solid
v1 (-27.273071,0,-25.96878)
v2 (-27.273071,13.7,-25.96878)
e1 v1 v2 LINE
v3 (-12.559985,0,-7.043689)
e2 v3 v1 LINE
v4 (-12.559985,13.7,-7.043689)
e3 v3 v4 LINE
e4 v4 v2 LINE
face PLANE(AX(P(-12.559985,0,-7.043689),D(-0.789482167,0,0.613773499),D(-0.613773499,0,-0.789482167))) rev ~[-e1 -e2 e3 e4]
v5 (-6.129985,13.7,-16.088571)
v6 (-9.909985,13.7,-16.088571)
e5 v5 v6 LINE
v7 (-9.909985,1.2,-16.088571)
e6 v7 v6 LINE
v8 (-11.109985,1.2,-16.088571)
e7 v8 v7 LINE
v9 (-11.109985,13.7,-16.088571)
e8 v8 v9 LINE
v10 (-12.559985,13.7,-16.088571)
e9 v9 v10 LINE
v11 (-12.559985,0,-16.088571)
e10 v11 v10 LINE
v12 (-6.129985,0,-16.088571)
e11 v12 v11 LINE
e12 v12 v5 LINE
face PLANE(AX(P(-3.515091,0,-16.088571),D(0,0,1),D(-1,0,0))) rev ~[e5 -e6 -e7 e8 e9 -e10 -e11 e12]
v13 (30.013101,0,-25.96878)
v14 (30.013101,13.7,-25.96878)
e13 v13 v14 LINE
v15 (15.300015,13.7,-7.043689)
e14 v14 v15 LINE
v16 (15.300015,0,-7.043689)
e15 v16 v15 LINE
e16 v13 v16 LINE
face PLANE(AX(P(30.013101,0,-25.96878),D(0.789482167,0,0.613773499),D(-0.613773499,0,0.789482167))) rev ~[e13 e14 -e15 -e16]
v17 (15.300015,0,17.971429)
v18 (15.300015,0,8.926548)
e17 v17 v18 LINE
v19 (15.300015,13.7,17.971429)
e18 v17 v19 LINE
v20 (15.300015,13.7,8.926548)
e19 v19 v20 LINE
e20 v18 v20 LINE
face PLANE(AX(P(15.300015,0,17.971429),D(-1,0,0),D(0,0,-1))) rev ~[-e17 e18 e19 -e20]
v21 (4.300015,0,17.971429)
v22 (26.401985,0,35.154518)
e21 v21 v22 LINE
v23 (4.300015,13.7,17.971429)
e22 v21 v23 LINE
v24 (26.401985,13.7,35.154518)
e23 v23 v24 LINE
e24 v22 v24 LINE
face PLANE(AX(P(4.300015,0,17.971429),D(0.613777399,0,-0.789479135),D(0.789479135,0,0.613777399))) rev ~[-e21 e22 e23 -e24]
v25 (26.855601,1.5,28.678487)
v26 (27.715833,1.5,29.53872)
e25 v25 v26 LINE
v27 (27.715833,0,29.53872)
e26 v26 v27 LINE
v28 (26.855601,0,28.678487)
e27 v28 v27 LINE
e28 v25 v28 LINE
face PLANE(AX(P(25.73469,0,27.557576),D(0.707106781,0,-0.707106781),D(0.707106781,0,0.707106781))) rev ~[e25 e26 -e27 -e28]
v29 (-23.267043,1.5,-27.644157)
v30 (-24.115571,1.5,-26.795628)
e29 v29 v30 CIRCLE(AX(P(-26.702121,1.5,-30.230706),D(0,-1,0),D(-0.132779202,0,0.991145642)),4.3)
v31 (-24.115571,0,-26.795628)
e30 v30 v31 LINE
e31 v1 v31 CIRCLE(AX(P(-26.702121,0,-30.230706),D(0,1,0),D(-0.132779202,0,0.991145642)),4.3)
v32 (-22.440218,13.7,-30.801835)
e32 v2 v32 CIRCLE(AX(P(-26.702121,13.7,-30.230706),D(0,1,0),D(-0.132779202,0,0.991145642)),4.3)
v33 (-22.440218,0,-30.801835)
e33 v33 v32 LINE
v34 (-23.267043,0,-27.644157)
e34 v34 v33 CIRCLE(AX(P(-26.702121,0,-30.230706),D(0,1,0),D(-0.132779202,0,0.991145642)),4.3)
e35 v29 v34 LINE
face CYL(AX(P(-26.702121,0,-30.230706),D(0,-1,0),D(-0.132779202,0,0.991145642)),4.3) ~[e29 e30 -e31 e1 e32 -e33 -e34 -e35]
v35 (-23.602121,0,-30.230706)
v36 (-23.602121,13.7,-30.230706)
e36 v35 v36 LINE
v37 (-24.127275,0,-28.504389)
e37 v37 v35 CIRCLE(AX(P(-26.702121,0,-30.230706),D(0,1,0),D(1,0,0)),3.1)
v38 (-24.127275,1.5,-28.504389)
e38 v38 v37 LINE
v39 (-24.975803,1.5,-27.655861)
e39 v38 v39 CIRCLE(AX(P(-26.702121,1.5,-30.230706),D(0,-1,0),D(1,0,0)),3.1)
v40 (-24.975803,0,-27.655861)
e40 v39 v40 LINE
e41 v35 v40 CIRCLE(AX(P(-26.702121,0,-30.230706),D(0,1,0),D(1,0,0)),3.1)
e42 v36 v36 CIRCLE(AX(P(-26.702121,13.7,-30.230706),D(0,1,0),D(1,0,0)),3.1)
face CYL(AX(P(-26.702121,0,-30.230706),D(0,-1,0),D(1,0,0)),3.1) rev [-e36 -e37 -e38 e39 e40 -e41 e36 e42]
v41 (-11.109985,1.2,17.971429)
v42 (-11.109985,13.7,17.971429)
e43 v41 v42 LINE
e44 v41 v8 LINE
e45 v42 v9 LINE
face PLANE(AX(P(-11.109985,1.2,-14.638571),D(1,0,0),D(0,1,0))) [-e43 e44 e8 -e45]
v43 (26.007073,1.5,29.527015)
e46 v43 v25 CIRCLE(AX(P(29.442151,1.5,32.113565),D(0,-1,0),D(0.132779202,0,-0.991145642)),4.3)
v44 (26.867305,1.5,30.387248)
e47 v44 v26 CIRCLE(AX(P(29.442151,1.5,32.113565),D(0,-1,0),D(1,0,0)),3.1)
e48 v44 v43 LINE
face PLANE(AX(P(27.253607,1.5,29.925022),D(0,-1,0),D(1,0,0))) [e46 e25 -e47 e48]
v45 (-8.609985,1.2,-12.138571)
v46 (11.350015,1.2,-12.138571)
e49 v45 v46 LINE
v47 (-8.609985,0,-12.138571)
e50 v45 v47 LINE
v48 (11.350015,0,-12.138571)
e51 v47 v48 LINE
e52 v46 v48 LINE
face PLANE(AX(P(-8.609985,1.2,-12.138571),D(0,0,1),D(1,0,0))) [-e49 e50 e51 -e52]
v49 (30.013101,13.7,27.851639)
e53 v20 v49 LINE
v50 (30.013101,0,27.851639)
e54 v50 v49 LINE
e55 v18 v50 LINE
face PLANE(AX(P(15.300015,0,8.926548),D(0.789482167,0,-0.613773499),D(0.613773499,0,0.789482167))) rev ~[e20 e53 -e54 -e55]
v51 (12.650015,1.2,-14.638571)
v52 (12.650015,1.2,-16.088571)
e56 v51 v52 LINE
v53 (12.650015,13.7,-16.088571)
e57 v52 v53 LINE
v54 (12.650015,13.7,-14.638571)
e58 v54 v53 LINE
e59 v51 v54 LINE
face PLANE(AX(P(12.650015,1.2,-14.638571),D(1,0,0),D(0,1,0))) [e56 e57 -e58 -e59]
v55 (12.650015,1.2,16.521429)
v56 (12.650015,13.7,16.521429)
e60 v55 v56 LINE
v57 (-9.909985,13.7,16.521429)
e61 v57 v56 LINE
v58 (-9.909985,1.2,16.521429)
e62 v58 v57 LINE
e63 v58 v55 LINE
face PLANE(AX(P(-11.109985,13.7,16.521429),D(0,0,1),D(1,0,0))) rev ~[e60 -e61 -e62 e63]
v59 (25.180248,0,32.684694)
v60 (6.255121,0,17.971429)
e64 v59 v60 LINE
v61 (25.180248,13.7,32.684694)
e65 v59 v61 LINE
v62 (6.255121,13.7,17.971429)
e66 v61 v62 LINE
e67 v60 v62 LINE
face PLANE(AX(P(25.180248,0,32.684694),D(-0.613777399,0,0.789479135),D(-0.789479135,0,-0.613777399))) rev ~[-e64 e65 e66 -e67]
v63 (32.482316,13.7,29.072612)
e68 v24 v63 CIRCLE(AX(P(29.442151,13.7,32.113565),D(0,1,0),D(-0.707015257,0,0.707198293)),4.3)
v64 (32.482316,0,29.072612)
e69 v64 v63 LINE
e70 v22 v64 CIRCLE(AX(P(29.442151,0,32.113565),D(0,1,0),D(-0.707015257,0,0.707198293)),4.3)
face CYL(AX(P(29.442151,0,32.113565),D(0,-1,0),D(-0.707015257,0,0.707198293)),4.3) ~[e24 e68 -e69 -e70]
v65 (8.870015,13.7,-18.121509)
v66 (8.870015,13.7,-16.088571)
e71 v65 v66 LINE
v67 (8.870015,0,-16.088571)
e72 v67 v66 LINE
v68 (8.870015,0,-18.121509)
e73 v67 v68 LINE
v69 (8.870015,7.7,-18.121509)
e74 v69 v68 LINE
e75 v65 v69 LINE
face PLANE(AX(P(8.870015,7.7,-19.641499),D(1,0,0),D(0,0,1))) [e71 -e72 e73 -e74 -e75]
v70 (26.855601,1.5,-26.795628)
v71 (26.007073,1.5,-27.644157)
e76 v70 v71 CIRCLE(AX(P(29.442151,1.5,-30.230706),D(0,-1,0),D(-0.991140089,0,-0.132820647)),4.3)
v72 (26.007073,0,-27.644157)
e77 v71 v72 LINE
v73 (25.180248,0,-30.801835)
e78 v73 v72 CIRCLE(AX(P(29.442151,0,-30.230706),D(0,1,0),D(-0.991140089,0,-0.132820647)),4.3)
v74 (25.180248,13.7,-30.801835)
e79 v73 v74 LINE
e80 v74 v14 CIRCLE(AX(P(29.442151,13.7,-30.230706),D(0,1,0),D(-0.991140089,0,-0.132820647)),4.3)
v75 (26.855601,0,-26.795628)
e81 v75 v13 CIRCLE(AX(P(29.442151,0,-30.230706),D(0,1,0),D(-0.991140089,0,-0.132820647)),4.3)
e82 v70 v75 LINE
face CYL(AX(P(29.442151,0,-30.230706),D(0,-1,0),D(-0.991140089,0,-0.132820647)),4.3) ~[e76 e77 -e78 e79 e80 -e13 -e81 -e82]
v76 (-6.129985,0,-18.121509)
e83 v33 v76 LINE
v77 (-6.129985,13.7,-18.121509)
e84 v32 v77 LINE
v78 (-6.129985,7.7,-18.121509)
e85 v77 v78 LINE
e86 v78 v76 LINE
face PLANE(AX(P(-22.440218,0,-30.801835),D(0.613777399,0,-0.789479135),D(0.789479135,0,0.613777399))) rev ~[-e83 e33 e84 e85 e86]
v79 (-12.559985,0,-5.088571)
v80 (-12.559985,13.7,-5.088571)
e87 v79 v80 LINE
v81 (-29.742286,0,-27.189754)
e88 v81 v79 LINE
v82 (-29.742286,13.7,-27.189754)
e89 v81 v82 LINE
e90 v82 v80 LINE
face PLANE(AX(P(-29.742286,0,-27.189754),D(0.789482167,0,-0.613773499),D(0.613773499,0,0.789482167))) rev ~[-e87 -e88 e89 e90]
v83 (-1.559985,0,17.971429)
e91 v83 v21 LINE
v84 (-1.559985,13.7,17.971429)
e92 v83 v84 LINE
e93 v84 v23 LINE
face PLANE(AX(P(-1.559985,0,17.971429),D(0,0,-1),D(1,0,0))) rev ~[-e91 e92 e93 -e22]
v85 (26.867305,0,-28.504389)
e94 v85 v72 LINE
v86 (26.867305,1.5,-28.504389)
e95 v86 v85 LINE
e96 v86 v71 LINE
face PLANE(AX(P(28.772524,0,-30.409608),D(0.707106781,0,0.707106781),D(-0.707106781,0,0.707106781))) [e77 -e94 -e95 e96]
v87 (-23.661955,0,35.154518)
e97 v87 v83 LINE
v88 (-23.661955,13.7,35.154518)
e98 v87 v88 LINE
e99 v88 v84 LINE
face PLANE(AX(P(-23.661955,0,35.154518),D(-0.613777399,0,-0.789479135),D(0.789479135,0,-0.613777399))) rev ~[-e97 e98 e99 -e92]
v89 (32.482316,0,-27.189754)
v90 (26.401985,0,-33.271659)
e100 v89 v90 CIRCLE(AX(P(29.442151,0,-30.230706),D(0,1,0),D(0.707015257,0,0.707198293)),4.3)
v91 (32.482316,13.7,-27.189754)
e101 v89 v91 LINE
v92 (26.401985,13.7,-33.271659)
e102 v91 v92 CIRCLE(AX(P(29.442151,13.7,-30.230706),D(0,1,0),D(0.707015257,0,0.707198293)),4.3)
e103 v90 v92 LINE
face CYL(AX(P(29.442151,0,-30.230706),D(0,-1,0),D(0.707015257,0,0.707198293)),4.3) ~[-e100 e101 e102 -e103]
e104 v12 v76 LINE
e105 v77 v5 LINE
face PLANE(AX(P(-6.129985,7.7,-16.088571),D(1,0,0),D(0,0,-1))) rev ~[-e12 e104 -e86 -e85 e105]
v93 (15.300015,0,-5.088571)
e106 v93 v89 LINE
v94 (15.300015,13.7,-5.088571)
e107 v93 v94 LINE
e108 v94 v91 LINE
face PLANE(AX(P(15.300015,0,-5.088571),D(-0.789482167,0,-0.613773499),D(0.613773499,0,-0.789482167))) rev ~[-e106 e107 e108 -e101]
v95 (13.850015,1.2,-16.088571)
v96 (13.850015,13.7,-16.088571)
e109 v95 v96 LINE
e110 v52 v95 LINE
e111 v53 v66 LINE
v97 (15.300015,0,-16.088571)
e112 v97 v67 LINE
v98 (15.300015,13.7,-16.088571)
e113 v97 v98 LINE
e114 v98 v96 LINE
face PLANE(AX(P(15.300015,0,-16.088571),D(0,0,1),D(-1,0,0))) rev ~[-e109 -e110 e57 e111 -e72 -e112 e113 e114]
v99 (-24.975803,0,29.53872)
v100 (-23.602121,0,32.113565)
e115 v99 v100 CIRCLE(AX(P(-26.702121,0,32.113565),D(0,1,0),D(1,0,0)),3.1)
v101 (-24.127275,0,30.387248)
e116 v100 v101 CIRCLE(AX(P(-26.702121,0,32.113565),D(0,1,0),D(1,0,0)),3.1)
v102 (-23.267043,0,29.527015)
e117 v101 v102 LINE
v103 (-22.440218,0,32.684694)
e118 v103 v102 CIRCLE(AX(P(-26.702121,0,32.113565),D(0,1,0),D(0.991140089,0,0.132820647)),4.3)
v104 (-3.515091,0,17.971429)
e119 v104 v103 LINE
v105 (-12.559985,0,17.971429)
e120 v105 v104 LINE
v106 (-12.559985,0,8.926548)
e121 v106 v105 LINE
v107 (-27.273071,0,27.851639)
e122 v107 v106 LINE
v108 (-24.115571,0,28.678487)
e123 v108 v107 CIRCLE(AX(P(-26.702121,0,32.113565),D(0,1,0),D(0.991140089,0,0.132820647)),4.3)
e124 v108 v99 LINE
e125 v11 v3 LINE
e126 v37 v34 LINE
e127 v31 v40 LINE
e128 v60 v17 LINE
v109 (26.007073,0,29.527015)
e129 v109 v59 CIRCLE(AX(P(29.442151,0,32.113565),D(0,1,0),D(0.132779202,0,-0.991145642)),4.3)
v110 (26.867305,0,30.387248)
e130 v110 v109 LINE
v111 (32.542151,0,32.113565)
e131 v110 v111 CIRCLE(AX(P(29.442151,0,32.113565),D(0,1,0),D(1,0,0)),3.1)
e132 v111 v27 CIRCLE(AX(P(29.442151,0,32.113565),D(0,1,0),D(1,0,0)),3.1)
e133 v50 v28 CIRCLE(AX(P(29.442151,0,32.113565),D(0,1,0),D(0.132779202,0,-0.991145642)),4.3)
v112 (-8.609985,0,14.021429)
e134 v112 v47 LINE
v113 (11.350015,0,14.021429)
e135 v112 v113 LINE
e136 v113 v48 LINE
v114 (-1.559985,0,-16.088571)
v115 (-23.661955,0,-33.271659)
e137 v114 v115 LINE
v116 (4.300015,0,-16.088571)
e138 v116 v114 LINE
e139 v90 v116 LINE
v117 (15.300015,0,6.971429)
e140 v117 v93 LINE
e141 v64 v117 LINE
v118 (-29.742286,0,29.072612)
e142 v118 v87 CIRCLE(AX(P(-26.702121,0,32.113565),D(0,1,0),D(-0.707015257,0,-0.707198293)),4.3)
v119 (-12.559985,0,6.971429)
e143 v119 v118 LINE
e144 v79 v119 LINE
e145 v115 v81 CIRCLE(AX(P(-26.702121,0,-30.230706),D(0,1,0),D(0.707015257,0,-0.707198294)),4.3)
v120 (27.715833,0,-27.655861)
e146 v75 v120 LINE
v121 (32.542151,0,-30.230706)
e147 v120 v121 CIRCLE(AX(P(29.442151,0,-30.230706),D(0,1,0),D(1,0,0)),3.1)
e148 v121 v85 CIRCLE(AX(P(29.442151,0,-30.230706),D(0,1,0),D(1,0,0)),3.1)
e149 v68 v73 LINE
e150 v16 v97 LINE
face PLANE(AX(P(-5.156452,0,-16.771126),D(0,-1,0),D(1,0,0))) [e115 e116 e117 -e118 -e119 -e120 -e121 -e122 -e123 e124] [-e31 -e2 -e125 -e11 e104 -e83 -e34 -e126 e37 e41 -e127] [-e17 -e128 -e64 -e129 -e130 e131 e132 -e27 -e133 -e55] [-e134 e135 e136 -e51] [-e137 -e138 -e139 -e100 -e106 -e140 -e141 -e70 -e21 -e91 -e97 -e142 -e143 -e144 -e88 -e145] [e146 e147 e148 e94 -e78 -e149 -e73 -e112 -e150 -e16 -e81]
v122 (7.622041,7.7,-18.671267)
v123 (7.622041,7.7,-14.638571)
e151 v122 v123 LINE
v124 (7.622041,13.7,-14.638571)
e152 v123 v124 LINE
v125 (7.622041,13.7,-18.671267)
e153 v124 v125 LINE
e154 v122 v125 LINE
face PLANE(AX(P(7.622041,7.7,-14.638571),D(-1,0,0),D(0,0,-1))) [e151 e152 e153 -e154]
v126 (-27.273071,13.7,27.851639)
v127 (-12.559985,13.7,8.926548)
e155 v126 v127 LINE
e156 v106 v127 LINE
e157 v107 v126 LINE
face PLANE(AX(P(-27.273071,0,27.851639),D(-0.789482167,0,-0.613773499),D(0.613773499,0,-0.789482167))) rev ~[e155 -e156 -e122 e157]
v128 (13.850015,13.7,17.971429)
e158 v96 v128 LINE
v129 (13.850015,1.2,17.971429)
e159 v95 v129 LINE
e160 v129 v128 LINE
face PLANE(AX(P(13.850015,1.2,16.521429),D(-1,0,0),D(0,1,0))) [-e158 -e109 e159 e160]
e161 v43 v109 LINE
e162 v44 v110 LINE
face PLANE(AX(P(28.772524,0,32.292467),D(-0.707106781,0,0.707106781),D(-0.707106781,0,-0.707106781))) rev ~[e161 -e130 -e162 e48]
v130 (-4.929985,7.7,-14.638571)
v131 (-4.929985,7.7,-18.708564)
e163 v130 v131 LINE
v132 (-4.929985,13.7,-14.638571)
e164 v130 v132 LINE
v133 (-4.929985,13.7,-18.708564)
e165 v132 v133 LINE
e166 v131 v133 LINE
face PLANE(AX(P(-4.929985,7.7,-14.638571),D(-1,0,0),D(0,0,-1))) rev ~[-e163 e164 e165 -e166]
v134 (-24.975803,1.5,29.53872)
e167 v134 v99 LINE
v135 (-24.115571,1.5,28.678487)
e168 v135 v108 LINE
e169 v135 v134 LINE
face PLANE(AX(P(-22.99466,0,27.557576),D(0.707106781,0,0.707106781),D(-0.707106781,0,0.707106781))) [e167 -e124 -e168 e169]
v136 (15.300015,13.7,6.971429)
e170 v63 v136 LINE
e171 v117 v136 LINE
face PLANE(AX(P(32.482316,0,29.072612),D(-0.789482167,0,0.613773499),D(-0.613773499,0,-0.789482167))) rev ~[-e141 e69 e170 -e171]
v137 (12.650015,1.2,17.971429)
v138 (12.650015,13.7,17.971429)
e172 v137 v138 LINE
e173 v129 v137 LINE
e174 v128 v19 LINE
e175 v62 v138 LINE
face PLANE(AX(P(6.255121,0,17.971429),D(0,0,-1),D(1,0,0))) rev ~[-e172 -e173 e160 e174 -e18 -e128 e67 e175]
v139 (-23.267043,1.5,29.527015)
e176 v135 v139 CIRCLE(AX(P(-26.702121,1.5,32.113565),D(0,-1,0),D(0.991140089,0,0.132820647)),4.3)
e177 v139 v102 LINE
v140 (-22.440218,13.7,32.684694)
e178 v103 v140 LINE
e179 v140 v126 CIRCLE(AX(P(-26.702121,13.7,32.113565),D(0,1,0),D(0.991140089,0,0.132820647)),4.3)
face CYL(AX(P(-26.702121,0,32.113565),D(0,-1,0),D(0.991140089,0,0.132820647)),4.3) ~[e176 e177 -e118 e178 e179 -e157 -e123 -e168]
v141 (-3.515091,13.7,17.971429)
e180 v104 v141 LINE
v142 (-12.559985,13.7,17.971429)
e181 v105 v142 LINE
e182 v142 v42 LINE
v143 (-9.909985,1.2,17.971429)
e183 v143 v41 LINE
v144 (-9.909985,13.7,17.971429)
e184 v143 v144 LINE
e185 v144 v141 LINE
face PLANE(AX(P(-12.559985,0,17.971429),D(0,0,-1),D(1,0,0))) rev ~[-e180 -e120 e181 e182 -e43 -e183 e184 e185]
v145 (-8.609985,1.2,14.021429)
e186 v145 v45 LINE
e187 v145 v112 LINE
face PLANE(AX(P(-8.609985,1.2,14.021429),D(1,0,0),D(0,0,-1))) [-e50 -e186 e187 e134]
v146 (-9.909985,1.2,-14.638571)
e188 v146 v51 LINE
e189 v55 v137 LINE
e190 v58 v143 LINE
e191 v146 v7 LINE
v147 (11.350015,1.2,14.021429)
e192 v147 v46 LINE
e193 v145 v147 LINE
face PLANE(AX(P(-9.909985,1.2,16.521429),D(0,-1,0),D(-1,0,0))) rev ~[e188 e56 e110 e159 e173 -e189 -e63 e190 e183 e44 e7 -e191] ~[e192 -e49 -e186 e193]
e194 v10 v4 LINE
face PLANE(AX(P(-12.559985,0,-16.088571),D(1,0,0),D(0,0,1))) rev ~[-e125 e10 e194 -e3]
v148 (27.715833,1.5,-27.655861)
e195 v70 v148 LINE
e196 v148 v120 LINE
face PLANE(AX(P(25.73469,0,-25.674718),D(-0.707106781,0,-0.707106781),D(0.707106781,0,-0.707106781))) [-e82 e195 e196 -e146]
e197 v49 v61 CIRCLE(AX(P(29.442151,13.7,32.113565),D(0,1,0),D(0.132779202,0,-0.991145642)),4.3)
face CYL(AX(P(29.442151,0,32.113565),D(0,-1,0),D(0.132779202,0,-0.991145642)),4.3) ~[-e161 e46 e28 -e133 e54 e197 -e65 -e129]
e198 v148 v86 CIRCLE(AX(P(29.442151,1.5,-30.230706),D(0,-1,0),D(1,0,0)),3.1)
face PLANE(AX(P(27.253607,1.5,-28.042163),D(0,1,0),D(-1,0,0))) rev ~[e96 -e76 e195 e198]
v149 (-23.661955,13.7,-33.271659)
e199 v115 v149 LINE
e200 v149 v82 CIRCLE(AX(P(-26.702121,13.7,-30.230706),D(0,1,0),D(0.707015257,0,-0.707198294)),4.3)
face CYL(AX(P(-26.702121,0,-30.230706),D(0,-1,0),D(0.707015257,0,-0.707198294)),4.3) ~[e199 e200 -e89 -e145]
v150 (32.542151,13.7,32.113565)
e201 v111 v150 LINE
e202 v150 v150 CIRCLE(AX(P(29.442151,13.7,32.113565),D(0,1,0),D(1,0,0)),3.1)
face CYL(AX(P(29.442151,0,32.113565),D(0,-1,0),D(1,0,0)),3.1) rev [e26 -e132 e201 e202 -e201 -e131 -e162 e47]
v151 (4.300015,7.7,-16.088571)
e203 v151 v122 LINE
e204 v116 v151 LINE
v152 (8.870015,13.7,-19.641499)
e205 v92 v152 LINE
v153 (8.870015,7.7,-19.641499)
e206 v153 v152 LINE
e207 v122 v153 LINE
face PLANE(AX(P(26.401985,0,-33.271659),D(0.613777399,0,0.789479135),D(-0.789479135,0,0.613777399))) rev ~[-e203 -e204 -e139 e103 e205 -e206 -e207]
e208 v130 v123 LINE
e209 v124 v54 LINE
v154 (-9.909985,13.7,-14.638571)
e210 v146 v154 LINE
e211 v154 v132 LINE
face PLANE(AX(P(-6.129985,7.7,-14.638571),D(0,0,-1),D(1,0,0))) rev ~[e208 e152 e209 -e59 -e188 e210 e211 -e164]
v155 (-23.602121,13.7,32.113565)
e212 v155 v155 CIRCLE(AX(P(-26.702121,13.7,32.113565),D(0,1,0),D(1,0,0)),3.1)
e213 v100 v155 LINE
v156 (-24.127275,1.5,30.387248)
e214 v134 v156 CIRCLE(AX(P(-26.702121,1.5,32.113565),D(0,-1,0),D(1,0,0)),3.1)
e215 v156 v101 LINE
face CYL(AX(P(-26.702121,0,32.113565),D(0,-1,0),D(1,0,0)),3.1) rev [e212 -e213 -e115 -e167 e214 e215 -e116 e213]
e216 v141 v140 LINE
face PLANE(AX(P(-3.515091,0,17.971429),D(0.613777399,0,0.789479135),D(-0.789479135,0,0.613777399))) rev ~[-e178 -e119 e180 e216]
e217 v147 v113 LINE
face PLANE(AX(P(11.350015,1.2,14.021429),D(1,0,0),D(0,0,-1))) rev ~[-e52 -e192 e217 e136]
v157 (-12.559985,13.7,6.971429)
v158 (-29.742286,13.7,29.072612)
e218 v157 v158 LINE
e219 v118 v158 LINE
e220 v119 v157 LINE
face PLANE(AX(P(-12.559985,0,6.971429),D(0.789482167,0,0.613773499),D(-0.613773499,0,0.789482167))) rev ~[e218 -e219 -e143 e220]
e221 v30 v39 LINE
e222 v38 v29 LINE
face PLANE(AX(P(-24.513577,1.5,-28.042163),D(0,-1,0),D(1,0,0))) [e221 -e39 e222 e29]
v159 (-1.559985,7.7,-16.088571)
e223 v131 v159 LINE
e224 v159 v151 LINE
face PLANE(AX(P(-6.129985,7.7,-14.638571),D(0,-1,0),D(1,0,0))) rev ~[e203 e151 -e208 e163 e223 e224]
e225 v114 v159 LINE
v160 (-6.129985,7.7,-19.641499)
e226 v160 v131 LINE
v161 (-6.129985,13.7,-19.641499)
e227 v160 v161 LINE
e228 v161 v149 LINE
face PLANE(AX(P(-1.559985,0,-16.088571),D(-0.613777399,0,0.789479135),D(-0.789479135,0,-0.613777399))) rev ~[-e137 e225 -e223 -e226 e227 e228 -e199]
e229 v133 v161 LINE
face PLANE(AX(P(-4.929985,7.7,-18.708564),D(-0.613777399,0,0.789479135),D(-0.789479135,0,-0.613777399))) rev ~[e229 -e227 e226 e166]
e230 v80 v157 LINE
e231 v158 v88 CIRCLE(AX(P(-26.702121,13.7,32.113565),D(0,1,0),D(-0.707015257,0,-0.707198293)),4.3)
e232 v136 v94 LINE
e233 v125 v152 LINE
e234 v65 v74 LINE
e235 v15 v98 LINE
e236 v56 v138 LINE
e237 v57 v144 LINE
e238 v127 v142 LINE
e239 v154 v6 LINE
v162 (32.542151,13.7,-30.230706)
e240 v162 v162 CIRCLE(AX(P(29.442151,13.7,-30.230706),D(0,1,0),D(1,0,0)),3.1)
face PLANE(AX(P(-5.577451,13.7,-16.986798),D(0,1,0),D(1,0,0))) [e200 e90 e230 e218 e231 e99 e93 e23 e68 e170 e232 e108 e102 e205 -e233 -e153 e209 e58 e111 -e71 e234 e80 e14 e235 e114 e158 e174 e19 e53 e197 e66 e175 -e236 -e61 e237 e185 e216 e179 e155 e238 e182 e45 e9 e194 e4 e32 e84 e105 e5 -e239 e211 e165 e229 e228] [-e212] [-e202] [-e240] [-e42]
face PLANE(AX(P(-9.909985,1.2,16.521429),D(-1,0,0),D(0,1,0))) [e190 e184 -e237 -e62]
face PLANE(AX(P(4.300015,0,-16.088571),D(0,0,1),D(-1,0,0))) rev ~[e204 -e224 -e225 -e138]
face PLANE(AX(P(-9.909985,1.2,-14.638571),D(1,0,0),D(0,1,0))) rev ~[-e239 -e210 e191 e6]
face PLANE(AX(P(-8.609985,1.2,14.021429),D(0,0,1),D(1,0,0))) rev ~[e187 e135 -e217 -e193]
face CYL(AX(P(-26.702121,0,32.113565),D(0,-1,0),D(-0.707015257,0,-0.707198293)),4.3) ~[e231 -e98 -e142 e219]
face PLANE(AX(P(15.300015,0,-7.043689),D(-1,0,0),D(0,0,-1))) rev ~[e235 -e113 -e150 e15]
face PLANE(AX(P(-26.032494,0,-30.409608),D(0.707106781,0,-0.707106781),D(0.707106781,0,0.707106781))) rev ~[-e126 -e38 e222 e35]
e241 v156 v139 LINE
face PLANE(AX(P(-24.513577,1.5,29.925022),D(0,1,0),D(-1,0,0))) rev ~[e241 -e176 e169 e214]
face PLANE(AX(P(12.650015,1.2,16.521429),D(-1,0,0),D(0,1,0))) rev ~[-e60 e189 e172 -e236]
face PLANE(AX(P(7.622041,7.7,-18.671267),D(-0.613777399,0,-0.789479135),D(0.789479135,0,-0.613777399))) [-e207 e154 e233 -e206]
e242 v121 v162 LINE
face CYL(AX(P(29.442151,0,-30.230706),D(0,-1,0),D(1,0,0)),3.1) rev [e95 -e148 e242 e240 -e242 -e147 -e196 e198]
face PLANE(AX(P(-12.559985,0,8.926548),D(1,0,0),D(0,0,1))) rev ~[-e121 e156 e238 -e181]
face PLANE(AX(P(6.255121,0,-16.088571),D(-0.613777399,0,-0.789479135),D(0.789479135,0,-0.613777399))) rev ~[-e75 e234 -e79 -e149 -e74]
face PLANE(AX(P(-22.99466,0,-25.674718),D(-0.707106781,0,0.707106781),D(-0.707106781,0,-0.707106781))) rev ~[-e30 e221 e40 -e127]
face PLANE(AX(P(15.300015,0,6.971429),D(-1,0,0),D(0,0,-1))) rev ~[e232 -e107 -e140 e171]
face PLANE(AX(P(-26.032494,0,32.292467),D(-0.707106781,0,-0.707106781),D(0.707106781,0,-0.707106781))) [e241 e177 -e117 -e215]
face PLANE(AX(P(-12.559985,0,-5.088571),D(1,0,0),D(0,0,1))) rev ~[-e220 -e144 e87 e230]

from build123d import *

# Parameters (mm, degrees)
SKETCH1_R           = 3.1
BOSS_EXTRUDE4_DEPTH = 13.7
SKETCH6_W           = 24.96
SKETCH6_H           = 31.16
CUT_EXTRUDE1_DEPTH  = 12.5
SKETCH7_W           = 19.96
SKETCH7_H           = 26.16
CUT_EXTRUDE2_DEPTH  = 12.5
SKETCH9_W           = 1.2
SKETCH9_H           = 12.5
CUT_EXTRUDE3_DEPTH  = 1.45
SKETCH10_W          = 1.2
SKETCH10_H          = 12.5
CUT_EXTRUDE4_DEPTH  = 1.45
CUT_EXTRUDE5_DEPTH  = 1.5
SKETCH12_W          = 7.5
SKETCH12_H          = 6
CUT_EXTRUDE6_DEPTH  = 20.892135624
BOSS_EXTRUDE5_DEPTH = 6
BOSS_EXTRUDE6_DEPTH = 7.7


with BuildPart() as part:
    # Sketch1 → Boss-Extrude4 (new body)
    with BuildSketch(Plane(origin=(0, 0, 0), x_dir=(1, 0, 0), z_dir=(0, 1, 0))):
        with BuildLine():
            Line((-1.559985024, 16.088570711), (-23.661955043, 33.271658997))
            ThreePointArc((-23.661955043, 33.271658997), (-29.74307331, 33.27087194), (-29.742286254, 27.189753673))
            Line((-29.742286254, 27.189753673), (-12.559985024, 5.088570711))
            Line((-12.559985024, 5.088570711), (-12.559985024, -6.971429289))
            Line((-12.559985024, -6.971429289), (-29.742286254, -29.072612251))
            ThreePointArc((-29.742286254, -29.072612251), (-29.74307331, -35.153730518), (-23.661955043, -35.154517574))
            Line((-23.661955043, -35.154517574), (-1.559985024, -17.971429289))
            Line((-1.559985024, -17.971429289), (4.300014976, -17.971429289))
            Line((4.300014976, -17.971429289), (26.401984994, -35.154517574))
            ThreePointArc((26.401984994, -35.154517574), (32.483103261, -35.153730518), (32.482316205, -29.072612251))
            Line((32.482316205, -29.072612251), (15.300014976, -6.971429289))
            Line((15.300014976, -6.971429289), (15.300014976, 5.088570711))
            Line((15.300014976, 5.088570711), (32.482316205, 27.189753673))
            ThreePointArc((32.482316205, 27.189753673), (32.483103261, 33.27087194), (26.401984994, 33.271658997))
            Line((26.401984994, 33.271658997), (4.300014976, 16.088570711))
            Line((4.300014976, 16.088570711), (-1.559985024, 16.088570711))
        make_face()
        with BuildLine():
            Line((15.300014976, -17.971429289), (15.300014976, -8.926547914))
            Line((15.300014976, -8.926547914), (30.013101167, -27.851638652))
            ThreePointArc((30.013101167, -27.851638652), (26.40152787, -29.073069325), (25.180248217, -32.684693693))
            Line((25.180248217, -32.684693693), (6.255121178, -17.971429289))
            Line((6.255121178, -17.971429289), (15.300014976, -17.971429289))
        make_face(mode=Mode.SUBTRACT)
        with Locations((-26.702120648, -32.113564912)):
            Circle(SKETCH1_R, mode=Mode.SUBTRACT)
        with BuildLine():
            Line((-12.559985024, -8.926547914), (-12.559985024, -17.971429289))
            Line((-12.559985024, -17.971429289), (-3.515091227, -17.971429289))
            Line((-3.515091227, -17.971429289), (-22.440218266, -32.684693693))
            ThreePointArc((-22.440218266, -32.684693693), (-23.661497919, -29.073069325), (-27.273071216, -27.851638652))
            Line((-27.273071216, -27.851638652), (-12.559985024, -8.926547914))
        make_face(mode=Mode.SUBTRACT)
        with BuildLine():
            Line((-3.515091227, 16.088570711), (-12.559985024, 16.088570711))
            Line((-12.559985024, 16.088570711), (-12.559985024, 7.043689336))
            Line((-12.559985024, 7.043689336), (-27.273071216, 25.968780075))
            ThreePointArc((-27.273071216, 25.968780075), (-23.661497919, 27.190210747), (-22.440218266, 30.801835115))
            Line((-22.440218266, 30.801835115), (-3.515091227, 16.088570711))
        make_face(mode=Mode.SUBTRACT)
        with Locations((-26.702120648, 30.230706335)):
            Circle(SKETCH1_R, mode=Mode.SUBTRACT)
        with BuildLine():
            Line((15.300014976, 7.043689336), (15.300014976, 16.088570711))
            Line((15.300014976, 16.088570711), (6.255121178, 16.088570711))
            Line((6.255121178, 16.088570711), (25.180248217, 30.801835115))
            ThreePointArc((25.180248217, 30.801835115), (26.40152787, 27.190210747), (30.013101167, 25.968780075))
            Line((30.013101167, 25.968780075), (15.300014976, 7.043689336))
        make_face(mode=Mode.SUBTRACT)
        with Locations((29.442150599, 30.230706335)):
            Circle(SKETCH1_R, mode=Mode.SUBTRACT)
        with Locations((29.442150599, -32.113564912)):
            Circle(SKETCH1_R, mode=Mode.SUBTRACT)
    extrude(amount=BOSS_EXTRUDE4_DEPTH)

    # Sketch6 → Cut-Extrude1 (cut)
    with BuildSketch(Plane(origin=(0, 13.7, 0), x_dir=(1, 0, 0), z_dir=(0, 1, 0))):
        with Locations((1.370014976, -0.941429289)):
            Rectangle(SKETCH6_W, SKETCH6_H)
    extrude(amount=-CUT_EXTRUDE1_DEPTH, mode=Mode.SUBTRACT)

    # Sketch7 → Cut-Extrude2 (cut)
    with BuildSketch(Plane(origin=(0, 1.2, 0), x_dir=(1, 0, 0), z_dir=(0, 1, 0))):
        with Locations((1.370014976, -0.941429289)):
            Rectangle(SKETCH7_W, SKETCH7_H)
    extrude(amount=-CUT_EXTRUDE2_DEPTH, mode=Mode.SUBTRACT)

    # Sketch9 → Cut-Extrude3 (cut)
    with BuildSketch(Plane.XY.offset(-14.638570711)):
        with Locations((-10.509985024, 7.45)):
            Rectangle(SKETCH9_W, SKETCH9_H)
        with Locations((13.250014976, 7.45)):
            Rectangle(SKETCH9_W, SKETCH9_H)
    extrude(amount=-CUT_EXTRUDE3_DEPTH, mode=Mode.SUBTRACT)

    # Sketch10 → Cut-Extrude4 (cut)
    with BuildSketch(Plane(origin=(0, 0, 16.521429289), x_dir=(-1, 0, 0), z_dir=(0, 0, -1))):
        with Locations((-13.250014976, 7.45)):
            Rectangle(SKETCH10_W, SKETCH10_H)
        with Locations((10.509985024, 7.45)):
            Rectangle(SKETCH10_W, SKETCH10_H)
    extrude(amount=-CUT_EXTRUDE4_DEPTH, mode=Mode.SUBTRACT)

    # Sketch11 → Cut-Extrude5 (cut)
    with BuildSketch(Plane.XZ):
        Polygon((-26.881022326, -29.561079875), (-26.032494188, -30.409608013), (-22.146132163, -26.523245987), (-22.9946603, -25.67471785), align=None)
        Polygon((24.886162114, -26.523245987), (25.734690251, -25.67471785), (29.621052277, -29.561079875), (28.772524139, -30.409608013), align=None)
        Polygon((29.621052277, 31.443938453), (28.772524139, 32.29246659), (24.886162114, 28.406104565), (25.734690251, 27.557576427), align=None)
        Polygon((-22.146132163, 28.406104565), (-22.9946603, 27.557576427), (-26.881022326, 31.443938453), (-26.032494188, 32.29246659), align=None)
    extrude(amount=-CUT_EXTRUDE5_DEPTH, mode=Mode.SUBTRACT)

    # Sketch12 → Cut-Extrude6 (cut, through all)
    with BuildSketch(Plane.XY.offset(-14.638570711)):
        with Locations((-2.379985024, 10.7)):
            Rectangle(SKETCH12_W, SKETCH12_H)
        with Locations((5.120014976, 10.7)):
            Rectangle(SKETCH12_W, SKETCH12_H)
    extrude(amount=-CUT_EXTRUDE6_DEPTH, mode=Mode.SUBTRACT)

    # Sketch14 → Boss-Extrude5 (add)
    with BuildSketch(Plane(origin=(0, 7.7, 0), x_dir=(1, 0, 0), z_dir=(0, 1, 0))):
        Polygon((-6.129985024, 19.641498953), (-6.129985024, 14.638570711), (-4.929985024, 14.638570711), (-4.929985024, 18.708563747), align=None)
        Polygon((8.870014976, 19.641498953), (8.870014976, 14.638570711), (7.62204126, 14.638570711), (7.62204126, 18.671266773), align=None)
    extrude(amount=BOSS_EXTRUDE5_DEPTH)

    # Sketch15 → Boss-Extrude6 (add)
    with BuildSketch(Plane.XZ.offset(-7.7)):
        Polygon((-6.129985024, -16.088570711), (-6.129985024, -18.121509447), (-3.515091227, -16.088570711), align=None)
        Polygon((8.870014976, -16.088570711), (8.870014976, -18.121509447), (6.255121178, -16.088570711), align=None)
    extrude(amount=BOSS_EXTRUDE6_DEPTH)


solid = part.part
